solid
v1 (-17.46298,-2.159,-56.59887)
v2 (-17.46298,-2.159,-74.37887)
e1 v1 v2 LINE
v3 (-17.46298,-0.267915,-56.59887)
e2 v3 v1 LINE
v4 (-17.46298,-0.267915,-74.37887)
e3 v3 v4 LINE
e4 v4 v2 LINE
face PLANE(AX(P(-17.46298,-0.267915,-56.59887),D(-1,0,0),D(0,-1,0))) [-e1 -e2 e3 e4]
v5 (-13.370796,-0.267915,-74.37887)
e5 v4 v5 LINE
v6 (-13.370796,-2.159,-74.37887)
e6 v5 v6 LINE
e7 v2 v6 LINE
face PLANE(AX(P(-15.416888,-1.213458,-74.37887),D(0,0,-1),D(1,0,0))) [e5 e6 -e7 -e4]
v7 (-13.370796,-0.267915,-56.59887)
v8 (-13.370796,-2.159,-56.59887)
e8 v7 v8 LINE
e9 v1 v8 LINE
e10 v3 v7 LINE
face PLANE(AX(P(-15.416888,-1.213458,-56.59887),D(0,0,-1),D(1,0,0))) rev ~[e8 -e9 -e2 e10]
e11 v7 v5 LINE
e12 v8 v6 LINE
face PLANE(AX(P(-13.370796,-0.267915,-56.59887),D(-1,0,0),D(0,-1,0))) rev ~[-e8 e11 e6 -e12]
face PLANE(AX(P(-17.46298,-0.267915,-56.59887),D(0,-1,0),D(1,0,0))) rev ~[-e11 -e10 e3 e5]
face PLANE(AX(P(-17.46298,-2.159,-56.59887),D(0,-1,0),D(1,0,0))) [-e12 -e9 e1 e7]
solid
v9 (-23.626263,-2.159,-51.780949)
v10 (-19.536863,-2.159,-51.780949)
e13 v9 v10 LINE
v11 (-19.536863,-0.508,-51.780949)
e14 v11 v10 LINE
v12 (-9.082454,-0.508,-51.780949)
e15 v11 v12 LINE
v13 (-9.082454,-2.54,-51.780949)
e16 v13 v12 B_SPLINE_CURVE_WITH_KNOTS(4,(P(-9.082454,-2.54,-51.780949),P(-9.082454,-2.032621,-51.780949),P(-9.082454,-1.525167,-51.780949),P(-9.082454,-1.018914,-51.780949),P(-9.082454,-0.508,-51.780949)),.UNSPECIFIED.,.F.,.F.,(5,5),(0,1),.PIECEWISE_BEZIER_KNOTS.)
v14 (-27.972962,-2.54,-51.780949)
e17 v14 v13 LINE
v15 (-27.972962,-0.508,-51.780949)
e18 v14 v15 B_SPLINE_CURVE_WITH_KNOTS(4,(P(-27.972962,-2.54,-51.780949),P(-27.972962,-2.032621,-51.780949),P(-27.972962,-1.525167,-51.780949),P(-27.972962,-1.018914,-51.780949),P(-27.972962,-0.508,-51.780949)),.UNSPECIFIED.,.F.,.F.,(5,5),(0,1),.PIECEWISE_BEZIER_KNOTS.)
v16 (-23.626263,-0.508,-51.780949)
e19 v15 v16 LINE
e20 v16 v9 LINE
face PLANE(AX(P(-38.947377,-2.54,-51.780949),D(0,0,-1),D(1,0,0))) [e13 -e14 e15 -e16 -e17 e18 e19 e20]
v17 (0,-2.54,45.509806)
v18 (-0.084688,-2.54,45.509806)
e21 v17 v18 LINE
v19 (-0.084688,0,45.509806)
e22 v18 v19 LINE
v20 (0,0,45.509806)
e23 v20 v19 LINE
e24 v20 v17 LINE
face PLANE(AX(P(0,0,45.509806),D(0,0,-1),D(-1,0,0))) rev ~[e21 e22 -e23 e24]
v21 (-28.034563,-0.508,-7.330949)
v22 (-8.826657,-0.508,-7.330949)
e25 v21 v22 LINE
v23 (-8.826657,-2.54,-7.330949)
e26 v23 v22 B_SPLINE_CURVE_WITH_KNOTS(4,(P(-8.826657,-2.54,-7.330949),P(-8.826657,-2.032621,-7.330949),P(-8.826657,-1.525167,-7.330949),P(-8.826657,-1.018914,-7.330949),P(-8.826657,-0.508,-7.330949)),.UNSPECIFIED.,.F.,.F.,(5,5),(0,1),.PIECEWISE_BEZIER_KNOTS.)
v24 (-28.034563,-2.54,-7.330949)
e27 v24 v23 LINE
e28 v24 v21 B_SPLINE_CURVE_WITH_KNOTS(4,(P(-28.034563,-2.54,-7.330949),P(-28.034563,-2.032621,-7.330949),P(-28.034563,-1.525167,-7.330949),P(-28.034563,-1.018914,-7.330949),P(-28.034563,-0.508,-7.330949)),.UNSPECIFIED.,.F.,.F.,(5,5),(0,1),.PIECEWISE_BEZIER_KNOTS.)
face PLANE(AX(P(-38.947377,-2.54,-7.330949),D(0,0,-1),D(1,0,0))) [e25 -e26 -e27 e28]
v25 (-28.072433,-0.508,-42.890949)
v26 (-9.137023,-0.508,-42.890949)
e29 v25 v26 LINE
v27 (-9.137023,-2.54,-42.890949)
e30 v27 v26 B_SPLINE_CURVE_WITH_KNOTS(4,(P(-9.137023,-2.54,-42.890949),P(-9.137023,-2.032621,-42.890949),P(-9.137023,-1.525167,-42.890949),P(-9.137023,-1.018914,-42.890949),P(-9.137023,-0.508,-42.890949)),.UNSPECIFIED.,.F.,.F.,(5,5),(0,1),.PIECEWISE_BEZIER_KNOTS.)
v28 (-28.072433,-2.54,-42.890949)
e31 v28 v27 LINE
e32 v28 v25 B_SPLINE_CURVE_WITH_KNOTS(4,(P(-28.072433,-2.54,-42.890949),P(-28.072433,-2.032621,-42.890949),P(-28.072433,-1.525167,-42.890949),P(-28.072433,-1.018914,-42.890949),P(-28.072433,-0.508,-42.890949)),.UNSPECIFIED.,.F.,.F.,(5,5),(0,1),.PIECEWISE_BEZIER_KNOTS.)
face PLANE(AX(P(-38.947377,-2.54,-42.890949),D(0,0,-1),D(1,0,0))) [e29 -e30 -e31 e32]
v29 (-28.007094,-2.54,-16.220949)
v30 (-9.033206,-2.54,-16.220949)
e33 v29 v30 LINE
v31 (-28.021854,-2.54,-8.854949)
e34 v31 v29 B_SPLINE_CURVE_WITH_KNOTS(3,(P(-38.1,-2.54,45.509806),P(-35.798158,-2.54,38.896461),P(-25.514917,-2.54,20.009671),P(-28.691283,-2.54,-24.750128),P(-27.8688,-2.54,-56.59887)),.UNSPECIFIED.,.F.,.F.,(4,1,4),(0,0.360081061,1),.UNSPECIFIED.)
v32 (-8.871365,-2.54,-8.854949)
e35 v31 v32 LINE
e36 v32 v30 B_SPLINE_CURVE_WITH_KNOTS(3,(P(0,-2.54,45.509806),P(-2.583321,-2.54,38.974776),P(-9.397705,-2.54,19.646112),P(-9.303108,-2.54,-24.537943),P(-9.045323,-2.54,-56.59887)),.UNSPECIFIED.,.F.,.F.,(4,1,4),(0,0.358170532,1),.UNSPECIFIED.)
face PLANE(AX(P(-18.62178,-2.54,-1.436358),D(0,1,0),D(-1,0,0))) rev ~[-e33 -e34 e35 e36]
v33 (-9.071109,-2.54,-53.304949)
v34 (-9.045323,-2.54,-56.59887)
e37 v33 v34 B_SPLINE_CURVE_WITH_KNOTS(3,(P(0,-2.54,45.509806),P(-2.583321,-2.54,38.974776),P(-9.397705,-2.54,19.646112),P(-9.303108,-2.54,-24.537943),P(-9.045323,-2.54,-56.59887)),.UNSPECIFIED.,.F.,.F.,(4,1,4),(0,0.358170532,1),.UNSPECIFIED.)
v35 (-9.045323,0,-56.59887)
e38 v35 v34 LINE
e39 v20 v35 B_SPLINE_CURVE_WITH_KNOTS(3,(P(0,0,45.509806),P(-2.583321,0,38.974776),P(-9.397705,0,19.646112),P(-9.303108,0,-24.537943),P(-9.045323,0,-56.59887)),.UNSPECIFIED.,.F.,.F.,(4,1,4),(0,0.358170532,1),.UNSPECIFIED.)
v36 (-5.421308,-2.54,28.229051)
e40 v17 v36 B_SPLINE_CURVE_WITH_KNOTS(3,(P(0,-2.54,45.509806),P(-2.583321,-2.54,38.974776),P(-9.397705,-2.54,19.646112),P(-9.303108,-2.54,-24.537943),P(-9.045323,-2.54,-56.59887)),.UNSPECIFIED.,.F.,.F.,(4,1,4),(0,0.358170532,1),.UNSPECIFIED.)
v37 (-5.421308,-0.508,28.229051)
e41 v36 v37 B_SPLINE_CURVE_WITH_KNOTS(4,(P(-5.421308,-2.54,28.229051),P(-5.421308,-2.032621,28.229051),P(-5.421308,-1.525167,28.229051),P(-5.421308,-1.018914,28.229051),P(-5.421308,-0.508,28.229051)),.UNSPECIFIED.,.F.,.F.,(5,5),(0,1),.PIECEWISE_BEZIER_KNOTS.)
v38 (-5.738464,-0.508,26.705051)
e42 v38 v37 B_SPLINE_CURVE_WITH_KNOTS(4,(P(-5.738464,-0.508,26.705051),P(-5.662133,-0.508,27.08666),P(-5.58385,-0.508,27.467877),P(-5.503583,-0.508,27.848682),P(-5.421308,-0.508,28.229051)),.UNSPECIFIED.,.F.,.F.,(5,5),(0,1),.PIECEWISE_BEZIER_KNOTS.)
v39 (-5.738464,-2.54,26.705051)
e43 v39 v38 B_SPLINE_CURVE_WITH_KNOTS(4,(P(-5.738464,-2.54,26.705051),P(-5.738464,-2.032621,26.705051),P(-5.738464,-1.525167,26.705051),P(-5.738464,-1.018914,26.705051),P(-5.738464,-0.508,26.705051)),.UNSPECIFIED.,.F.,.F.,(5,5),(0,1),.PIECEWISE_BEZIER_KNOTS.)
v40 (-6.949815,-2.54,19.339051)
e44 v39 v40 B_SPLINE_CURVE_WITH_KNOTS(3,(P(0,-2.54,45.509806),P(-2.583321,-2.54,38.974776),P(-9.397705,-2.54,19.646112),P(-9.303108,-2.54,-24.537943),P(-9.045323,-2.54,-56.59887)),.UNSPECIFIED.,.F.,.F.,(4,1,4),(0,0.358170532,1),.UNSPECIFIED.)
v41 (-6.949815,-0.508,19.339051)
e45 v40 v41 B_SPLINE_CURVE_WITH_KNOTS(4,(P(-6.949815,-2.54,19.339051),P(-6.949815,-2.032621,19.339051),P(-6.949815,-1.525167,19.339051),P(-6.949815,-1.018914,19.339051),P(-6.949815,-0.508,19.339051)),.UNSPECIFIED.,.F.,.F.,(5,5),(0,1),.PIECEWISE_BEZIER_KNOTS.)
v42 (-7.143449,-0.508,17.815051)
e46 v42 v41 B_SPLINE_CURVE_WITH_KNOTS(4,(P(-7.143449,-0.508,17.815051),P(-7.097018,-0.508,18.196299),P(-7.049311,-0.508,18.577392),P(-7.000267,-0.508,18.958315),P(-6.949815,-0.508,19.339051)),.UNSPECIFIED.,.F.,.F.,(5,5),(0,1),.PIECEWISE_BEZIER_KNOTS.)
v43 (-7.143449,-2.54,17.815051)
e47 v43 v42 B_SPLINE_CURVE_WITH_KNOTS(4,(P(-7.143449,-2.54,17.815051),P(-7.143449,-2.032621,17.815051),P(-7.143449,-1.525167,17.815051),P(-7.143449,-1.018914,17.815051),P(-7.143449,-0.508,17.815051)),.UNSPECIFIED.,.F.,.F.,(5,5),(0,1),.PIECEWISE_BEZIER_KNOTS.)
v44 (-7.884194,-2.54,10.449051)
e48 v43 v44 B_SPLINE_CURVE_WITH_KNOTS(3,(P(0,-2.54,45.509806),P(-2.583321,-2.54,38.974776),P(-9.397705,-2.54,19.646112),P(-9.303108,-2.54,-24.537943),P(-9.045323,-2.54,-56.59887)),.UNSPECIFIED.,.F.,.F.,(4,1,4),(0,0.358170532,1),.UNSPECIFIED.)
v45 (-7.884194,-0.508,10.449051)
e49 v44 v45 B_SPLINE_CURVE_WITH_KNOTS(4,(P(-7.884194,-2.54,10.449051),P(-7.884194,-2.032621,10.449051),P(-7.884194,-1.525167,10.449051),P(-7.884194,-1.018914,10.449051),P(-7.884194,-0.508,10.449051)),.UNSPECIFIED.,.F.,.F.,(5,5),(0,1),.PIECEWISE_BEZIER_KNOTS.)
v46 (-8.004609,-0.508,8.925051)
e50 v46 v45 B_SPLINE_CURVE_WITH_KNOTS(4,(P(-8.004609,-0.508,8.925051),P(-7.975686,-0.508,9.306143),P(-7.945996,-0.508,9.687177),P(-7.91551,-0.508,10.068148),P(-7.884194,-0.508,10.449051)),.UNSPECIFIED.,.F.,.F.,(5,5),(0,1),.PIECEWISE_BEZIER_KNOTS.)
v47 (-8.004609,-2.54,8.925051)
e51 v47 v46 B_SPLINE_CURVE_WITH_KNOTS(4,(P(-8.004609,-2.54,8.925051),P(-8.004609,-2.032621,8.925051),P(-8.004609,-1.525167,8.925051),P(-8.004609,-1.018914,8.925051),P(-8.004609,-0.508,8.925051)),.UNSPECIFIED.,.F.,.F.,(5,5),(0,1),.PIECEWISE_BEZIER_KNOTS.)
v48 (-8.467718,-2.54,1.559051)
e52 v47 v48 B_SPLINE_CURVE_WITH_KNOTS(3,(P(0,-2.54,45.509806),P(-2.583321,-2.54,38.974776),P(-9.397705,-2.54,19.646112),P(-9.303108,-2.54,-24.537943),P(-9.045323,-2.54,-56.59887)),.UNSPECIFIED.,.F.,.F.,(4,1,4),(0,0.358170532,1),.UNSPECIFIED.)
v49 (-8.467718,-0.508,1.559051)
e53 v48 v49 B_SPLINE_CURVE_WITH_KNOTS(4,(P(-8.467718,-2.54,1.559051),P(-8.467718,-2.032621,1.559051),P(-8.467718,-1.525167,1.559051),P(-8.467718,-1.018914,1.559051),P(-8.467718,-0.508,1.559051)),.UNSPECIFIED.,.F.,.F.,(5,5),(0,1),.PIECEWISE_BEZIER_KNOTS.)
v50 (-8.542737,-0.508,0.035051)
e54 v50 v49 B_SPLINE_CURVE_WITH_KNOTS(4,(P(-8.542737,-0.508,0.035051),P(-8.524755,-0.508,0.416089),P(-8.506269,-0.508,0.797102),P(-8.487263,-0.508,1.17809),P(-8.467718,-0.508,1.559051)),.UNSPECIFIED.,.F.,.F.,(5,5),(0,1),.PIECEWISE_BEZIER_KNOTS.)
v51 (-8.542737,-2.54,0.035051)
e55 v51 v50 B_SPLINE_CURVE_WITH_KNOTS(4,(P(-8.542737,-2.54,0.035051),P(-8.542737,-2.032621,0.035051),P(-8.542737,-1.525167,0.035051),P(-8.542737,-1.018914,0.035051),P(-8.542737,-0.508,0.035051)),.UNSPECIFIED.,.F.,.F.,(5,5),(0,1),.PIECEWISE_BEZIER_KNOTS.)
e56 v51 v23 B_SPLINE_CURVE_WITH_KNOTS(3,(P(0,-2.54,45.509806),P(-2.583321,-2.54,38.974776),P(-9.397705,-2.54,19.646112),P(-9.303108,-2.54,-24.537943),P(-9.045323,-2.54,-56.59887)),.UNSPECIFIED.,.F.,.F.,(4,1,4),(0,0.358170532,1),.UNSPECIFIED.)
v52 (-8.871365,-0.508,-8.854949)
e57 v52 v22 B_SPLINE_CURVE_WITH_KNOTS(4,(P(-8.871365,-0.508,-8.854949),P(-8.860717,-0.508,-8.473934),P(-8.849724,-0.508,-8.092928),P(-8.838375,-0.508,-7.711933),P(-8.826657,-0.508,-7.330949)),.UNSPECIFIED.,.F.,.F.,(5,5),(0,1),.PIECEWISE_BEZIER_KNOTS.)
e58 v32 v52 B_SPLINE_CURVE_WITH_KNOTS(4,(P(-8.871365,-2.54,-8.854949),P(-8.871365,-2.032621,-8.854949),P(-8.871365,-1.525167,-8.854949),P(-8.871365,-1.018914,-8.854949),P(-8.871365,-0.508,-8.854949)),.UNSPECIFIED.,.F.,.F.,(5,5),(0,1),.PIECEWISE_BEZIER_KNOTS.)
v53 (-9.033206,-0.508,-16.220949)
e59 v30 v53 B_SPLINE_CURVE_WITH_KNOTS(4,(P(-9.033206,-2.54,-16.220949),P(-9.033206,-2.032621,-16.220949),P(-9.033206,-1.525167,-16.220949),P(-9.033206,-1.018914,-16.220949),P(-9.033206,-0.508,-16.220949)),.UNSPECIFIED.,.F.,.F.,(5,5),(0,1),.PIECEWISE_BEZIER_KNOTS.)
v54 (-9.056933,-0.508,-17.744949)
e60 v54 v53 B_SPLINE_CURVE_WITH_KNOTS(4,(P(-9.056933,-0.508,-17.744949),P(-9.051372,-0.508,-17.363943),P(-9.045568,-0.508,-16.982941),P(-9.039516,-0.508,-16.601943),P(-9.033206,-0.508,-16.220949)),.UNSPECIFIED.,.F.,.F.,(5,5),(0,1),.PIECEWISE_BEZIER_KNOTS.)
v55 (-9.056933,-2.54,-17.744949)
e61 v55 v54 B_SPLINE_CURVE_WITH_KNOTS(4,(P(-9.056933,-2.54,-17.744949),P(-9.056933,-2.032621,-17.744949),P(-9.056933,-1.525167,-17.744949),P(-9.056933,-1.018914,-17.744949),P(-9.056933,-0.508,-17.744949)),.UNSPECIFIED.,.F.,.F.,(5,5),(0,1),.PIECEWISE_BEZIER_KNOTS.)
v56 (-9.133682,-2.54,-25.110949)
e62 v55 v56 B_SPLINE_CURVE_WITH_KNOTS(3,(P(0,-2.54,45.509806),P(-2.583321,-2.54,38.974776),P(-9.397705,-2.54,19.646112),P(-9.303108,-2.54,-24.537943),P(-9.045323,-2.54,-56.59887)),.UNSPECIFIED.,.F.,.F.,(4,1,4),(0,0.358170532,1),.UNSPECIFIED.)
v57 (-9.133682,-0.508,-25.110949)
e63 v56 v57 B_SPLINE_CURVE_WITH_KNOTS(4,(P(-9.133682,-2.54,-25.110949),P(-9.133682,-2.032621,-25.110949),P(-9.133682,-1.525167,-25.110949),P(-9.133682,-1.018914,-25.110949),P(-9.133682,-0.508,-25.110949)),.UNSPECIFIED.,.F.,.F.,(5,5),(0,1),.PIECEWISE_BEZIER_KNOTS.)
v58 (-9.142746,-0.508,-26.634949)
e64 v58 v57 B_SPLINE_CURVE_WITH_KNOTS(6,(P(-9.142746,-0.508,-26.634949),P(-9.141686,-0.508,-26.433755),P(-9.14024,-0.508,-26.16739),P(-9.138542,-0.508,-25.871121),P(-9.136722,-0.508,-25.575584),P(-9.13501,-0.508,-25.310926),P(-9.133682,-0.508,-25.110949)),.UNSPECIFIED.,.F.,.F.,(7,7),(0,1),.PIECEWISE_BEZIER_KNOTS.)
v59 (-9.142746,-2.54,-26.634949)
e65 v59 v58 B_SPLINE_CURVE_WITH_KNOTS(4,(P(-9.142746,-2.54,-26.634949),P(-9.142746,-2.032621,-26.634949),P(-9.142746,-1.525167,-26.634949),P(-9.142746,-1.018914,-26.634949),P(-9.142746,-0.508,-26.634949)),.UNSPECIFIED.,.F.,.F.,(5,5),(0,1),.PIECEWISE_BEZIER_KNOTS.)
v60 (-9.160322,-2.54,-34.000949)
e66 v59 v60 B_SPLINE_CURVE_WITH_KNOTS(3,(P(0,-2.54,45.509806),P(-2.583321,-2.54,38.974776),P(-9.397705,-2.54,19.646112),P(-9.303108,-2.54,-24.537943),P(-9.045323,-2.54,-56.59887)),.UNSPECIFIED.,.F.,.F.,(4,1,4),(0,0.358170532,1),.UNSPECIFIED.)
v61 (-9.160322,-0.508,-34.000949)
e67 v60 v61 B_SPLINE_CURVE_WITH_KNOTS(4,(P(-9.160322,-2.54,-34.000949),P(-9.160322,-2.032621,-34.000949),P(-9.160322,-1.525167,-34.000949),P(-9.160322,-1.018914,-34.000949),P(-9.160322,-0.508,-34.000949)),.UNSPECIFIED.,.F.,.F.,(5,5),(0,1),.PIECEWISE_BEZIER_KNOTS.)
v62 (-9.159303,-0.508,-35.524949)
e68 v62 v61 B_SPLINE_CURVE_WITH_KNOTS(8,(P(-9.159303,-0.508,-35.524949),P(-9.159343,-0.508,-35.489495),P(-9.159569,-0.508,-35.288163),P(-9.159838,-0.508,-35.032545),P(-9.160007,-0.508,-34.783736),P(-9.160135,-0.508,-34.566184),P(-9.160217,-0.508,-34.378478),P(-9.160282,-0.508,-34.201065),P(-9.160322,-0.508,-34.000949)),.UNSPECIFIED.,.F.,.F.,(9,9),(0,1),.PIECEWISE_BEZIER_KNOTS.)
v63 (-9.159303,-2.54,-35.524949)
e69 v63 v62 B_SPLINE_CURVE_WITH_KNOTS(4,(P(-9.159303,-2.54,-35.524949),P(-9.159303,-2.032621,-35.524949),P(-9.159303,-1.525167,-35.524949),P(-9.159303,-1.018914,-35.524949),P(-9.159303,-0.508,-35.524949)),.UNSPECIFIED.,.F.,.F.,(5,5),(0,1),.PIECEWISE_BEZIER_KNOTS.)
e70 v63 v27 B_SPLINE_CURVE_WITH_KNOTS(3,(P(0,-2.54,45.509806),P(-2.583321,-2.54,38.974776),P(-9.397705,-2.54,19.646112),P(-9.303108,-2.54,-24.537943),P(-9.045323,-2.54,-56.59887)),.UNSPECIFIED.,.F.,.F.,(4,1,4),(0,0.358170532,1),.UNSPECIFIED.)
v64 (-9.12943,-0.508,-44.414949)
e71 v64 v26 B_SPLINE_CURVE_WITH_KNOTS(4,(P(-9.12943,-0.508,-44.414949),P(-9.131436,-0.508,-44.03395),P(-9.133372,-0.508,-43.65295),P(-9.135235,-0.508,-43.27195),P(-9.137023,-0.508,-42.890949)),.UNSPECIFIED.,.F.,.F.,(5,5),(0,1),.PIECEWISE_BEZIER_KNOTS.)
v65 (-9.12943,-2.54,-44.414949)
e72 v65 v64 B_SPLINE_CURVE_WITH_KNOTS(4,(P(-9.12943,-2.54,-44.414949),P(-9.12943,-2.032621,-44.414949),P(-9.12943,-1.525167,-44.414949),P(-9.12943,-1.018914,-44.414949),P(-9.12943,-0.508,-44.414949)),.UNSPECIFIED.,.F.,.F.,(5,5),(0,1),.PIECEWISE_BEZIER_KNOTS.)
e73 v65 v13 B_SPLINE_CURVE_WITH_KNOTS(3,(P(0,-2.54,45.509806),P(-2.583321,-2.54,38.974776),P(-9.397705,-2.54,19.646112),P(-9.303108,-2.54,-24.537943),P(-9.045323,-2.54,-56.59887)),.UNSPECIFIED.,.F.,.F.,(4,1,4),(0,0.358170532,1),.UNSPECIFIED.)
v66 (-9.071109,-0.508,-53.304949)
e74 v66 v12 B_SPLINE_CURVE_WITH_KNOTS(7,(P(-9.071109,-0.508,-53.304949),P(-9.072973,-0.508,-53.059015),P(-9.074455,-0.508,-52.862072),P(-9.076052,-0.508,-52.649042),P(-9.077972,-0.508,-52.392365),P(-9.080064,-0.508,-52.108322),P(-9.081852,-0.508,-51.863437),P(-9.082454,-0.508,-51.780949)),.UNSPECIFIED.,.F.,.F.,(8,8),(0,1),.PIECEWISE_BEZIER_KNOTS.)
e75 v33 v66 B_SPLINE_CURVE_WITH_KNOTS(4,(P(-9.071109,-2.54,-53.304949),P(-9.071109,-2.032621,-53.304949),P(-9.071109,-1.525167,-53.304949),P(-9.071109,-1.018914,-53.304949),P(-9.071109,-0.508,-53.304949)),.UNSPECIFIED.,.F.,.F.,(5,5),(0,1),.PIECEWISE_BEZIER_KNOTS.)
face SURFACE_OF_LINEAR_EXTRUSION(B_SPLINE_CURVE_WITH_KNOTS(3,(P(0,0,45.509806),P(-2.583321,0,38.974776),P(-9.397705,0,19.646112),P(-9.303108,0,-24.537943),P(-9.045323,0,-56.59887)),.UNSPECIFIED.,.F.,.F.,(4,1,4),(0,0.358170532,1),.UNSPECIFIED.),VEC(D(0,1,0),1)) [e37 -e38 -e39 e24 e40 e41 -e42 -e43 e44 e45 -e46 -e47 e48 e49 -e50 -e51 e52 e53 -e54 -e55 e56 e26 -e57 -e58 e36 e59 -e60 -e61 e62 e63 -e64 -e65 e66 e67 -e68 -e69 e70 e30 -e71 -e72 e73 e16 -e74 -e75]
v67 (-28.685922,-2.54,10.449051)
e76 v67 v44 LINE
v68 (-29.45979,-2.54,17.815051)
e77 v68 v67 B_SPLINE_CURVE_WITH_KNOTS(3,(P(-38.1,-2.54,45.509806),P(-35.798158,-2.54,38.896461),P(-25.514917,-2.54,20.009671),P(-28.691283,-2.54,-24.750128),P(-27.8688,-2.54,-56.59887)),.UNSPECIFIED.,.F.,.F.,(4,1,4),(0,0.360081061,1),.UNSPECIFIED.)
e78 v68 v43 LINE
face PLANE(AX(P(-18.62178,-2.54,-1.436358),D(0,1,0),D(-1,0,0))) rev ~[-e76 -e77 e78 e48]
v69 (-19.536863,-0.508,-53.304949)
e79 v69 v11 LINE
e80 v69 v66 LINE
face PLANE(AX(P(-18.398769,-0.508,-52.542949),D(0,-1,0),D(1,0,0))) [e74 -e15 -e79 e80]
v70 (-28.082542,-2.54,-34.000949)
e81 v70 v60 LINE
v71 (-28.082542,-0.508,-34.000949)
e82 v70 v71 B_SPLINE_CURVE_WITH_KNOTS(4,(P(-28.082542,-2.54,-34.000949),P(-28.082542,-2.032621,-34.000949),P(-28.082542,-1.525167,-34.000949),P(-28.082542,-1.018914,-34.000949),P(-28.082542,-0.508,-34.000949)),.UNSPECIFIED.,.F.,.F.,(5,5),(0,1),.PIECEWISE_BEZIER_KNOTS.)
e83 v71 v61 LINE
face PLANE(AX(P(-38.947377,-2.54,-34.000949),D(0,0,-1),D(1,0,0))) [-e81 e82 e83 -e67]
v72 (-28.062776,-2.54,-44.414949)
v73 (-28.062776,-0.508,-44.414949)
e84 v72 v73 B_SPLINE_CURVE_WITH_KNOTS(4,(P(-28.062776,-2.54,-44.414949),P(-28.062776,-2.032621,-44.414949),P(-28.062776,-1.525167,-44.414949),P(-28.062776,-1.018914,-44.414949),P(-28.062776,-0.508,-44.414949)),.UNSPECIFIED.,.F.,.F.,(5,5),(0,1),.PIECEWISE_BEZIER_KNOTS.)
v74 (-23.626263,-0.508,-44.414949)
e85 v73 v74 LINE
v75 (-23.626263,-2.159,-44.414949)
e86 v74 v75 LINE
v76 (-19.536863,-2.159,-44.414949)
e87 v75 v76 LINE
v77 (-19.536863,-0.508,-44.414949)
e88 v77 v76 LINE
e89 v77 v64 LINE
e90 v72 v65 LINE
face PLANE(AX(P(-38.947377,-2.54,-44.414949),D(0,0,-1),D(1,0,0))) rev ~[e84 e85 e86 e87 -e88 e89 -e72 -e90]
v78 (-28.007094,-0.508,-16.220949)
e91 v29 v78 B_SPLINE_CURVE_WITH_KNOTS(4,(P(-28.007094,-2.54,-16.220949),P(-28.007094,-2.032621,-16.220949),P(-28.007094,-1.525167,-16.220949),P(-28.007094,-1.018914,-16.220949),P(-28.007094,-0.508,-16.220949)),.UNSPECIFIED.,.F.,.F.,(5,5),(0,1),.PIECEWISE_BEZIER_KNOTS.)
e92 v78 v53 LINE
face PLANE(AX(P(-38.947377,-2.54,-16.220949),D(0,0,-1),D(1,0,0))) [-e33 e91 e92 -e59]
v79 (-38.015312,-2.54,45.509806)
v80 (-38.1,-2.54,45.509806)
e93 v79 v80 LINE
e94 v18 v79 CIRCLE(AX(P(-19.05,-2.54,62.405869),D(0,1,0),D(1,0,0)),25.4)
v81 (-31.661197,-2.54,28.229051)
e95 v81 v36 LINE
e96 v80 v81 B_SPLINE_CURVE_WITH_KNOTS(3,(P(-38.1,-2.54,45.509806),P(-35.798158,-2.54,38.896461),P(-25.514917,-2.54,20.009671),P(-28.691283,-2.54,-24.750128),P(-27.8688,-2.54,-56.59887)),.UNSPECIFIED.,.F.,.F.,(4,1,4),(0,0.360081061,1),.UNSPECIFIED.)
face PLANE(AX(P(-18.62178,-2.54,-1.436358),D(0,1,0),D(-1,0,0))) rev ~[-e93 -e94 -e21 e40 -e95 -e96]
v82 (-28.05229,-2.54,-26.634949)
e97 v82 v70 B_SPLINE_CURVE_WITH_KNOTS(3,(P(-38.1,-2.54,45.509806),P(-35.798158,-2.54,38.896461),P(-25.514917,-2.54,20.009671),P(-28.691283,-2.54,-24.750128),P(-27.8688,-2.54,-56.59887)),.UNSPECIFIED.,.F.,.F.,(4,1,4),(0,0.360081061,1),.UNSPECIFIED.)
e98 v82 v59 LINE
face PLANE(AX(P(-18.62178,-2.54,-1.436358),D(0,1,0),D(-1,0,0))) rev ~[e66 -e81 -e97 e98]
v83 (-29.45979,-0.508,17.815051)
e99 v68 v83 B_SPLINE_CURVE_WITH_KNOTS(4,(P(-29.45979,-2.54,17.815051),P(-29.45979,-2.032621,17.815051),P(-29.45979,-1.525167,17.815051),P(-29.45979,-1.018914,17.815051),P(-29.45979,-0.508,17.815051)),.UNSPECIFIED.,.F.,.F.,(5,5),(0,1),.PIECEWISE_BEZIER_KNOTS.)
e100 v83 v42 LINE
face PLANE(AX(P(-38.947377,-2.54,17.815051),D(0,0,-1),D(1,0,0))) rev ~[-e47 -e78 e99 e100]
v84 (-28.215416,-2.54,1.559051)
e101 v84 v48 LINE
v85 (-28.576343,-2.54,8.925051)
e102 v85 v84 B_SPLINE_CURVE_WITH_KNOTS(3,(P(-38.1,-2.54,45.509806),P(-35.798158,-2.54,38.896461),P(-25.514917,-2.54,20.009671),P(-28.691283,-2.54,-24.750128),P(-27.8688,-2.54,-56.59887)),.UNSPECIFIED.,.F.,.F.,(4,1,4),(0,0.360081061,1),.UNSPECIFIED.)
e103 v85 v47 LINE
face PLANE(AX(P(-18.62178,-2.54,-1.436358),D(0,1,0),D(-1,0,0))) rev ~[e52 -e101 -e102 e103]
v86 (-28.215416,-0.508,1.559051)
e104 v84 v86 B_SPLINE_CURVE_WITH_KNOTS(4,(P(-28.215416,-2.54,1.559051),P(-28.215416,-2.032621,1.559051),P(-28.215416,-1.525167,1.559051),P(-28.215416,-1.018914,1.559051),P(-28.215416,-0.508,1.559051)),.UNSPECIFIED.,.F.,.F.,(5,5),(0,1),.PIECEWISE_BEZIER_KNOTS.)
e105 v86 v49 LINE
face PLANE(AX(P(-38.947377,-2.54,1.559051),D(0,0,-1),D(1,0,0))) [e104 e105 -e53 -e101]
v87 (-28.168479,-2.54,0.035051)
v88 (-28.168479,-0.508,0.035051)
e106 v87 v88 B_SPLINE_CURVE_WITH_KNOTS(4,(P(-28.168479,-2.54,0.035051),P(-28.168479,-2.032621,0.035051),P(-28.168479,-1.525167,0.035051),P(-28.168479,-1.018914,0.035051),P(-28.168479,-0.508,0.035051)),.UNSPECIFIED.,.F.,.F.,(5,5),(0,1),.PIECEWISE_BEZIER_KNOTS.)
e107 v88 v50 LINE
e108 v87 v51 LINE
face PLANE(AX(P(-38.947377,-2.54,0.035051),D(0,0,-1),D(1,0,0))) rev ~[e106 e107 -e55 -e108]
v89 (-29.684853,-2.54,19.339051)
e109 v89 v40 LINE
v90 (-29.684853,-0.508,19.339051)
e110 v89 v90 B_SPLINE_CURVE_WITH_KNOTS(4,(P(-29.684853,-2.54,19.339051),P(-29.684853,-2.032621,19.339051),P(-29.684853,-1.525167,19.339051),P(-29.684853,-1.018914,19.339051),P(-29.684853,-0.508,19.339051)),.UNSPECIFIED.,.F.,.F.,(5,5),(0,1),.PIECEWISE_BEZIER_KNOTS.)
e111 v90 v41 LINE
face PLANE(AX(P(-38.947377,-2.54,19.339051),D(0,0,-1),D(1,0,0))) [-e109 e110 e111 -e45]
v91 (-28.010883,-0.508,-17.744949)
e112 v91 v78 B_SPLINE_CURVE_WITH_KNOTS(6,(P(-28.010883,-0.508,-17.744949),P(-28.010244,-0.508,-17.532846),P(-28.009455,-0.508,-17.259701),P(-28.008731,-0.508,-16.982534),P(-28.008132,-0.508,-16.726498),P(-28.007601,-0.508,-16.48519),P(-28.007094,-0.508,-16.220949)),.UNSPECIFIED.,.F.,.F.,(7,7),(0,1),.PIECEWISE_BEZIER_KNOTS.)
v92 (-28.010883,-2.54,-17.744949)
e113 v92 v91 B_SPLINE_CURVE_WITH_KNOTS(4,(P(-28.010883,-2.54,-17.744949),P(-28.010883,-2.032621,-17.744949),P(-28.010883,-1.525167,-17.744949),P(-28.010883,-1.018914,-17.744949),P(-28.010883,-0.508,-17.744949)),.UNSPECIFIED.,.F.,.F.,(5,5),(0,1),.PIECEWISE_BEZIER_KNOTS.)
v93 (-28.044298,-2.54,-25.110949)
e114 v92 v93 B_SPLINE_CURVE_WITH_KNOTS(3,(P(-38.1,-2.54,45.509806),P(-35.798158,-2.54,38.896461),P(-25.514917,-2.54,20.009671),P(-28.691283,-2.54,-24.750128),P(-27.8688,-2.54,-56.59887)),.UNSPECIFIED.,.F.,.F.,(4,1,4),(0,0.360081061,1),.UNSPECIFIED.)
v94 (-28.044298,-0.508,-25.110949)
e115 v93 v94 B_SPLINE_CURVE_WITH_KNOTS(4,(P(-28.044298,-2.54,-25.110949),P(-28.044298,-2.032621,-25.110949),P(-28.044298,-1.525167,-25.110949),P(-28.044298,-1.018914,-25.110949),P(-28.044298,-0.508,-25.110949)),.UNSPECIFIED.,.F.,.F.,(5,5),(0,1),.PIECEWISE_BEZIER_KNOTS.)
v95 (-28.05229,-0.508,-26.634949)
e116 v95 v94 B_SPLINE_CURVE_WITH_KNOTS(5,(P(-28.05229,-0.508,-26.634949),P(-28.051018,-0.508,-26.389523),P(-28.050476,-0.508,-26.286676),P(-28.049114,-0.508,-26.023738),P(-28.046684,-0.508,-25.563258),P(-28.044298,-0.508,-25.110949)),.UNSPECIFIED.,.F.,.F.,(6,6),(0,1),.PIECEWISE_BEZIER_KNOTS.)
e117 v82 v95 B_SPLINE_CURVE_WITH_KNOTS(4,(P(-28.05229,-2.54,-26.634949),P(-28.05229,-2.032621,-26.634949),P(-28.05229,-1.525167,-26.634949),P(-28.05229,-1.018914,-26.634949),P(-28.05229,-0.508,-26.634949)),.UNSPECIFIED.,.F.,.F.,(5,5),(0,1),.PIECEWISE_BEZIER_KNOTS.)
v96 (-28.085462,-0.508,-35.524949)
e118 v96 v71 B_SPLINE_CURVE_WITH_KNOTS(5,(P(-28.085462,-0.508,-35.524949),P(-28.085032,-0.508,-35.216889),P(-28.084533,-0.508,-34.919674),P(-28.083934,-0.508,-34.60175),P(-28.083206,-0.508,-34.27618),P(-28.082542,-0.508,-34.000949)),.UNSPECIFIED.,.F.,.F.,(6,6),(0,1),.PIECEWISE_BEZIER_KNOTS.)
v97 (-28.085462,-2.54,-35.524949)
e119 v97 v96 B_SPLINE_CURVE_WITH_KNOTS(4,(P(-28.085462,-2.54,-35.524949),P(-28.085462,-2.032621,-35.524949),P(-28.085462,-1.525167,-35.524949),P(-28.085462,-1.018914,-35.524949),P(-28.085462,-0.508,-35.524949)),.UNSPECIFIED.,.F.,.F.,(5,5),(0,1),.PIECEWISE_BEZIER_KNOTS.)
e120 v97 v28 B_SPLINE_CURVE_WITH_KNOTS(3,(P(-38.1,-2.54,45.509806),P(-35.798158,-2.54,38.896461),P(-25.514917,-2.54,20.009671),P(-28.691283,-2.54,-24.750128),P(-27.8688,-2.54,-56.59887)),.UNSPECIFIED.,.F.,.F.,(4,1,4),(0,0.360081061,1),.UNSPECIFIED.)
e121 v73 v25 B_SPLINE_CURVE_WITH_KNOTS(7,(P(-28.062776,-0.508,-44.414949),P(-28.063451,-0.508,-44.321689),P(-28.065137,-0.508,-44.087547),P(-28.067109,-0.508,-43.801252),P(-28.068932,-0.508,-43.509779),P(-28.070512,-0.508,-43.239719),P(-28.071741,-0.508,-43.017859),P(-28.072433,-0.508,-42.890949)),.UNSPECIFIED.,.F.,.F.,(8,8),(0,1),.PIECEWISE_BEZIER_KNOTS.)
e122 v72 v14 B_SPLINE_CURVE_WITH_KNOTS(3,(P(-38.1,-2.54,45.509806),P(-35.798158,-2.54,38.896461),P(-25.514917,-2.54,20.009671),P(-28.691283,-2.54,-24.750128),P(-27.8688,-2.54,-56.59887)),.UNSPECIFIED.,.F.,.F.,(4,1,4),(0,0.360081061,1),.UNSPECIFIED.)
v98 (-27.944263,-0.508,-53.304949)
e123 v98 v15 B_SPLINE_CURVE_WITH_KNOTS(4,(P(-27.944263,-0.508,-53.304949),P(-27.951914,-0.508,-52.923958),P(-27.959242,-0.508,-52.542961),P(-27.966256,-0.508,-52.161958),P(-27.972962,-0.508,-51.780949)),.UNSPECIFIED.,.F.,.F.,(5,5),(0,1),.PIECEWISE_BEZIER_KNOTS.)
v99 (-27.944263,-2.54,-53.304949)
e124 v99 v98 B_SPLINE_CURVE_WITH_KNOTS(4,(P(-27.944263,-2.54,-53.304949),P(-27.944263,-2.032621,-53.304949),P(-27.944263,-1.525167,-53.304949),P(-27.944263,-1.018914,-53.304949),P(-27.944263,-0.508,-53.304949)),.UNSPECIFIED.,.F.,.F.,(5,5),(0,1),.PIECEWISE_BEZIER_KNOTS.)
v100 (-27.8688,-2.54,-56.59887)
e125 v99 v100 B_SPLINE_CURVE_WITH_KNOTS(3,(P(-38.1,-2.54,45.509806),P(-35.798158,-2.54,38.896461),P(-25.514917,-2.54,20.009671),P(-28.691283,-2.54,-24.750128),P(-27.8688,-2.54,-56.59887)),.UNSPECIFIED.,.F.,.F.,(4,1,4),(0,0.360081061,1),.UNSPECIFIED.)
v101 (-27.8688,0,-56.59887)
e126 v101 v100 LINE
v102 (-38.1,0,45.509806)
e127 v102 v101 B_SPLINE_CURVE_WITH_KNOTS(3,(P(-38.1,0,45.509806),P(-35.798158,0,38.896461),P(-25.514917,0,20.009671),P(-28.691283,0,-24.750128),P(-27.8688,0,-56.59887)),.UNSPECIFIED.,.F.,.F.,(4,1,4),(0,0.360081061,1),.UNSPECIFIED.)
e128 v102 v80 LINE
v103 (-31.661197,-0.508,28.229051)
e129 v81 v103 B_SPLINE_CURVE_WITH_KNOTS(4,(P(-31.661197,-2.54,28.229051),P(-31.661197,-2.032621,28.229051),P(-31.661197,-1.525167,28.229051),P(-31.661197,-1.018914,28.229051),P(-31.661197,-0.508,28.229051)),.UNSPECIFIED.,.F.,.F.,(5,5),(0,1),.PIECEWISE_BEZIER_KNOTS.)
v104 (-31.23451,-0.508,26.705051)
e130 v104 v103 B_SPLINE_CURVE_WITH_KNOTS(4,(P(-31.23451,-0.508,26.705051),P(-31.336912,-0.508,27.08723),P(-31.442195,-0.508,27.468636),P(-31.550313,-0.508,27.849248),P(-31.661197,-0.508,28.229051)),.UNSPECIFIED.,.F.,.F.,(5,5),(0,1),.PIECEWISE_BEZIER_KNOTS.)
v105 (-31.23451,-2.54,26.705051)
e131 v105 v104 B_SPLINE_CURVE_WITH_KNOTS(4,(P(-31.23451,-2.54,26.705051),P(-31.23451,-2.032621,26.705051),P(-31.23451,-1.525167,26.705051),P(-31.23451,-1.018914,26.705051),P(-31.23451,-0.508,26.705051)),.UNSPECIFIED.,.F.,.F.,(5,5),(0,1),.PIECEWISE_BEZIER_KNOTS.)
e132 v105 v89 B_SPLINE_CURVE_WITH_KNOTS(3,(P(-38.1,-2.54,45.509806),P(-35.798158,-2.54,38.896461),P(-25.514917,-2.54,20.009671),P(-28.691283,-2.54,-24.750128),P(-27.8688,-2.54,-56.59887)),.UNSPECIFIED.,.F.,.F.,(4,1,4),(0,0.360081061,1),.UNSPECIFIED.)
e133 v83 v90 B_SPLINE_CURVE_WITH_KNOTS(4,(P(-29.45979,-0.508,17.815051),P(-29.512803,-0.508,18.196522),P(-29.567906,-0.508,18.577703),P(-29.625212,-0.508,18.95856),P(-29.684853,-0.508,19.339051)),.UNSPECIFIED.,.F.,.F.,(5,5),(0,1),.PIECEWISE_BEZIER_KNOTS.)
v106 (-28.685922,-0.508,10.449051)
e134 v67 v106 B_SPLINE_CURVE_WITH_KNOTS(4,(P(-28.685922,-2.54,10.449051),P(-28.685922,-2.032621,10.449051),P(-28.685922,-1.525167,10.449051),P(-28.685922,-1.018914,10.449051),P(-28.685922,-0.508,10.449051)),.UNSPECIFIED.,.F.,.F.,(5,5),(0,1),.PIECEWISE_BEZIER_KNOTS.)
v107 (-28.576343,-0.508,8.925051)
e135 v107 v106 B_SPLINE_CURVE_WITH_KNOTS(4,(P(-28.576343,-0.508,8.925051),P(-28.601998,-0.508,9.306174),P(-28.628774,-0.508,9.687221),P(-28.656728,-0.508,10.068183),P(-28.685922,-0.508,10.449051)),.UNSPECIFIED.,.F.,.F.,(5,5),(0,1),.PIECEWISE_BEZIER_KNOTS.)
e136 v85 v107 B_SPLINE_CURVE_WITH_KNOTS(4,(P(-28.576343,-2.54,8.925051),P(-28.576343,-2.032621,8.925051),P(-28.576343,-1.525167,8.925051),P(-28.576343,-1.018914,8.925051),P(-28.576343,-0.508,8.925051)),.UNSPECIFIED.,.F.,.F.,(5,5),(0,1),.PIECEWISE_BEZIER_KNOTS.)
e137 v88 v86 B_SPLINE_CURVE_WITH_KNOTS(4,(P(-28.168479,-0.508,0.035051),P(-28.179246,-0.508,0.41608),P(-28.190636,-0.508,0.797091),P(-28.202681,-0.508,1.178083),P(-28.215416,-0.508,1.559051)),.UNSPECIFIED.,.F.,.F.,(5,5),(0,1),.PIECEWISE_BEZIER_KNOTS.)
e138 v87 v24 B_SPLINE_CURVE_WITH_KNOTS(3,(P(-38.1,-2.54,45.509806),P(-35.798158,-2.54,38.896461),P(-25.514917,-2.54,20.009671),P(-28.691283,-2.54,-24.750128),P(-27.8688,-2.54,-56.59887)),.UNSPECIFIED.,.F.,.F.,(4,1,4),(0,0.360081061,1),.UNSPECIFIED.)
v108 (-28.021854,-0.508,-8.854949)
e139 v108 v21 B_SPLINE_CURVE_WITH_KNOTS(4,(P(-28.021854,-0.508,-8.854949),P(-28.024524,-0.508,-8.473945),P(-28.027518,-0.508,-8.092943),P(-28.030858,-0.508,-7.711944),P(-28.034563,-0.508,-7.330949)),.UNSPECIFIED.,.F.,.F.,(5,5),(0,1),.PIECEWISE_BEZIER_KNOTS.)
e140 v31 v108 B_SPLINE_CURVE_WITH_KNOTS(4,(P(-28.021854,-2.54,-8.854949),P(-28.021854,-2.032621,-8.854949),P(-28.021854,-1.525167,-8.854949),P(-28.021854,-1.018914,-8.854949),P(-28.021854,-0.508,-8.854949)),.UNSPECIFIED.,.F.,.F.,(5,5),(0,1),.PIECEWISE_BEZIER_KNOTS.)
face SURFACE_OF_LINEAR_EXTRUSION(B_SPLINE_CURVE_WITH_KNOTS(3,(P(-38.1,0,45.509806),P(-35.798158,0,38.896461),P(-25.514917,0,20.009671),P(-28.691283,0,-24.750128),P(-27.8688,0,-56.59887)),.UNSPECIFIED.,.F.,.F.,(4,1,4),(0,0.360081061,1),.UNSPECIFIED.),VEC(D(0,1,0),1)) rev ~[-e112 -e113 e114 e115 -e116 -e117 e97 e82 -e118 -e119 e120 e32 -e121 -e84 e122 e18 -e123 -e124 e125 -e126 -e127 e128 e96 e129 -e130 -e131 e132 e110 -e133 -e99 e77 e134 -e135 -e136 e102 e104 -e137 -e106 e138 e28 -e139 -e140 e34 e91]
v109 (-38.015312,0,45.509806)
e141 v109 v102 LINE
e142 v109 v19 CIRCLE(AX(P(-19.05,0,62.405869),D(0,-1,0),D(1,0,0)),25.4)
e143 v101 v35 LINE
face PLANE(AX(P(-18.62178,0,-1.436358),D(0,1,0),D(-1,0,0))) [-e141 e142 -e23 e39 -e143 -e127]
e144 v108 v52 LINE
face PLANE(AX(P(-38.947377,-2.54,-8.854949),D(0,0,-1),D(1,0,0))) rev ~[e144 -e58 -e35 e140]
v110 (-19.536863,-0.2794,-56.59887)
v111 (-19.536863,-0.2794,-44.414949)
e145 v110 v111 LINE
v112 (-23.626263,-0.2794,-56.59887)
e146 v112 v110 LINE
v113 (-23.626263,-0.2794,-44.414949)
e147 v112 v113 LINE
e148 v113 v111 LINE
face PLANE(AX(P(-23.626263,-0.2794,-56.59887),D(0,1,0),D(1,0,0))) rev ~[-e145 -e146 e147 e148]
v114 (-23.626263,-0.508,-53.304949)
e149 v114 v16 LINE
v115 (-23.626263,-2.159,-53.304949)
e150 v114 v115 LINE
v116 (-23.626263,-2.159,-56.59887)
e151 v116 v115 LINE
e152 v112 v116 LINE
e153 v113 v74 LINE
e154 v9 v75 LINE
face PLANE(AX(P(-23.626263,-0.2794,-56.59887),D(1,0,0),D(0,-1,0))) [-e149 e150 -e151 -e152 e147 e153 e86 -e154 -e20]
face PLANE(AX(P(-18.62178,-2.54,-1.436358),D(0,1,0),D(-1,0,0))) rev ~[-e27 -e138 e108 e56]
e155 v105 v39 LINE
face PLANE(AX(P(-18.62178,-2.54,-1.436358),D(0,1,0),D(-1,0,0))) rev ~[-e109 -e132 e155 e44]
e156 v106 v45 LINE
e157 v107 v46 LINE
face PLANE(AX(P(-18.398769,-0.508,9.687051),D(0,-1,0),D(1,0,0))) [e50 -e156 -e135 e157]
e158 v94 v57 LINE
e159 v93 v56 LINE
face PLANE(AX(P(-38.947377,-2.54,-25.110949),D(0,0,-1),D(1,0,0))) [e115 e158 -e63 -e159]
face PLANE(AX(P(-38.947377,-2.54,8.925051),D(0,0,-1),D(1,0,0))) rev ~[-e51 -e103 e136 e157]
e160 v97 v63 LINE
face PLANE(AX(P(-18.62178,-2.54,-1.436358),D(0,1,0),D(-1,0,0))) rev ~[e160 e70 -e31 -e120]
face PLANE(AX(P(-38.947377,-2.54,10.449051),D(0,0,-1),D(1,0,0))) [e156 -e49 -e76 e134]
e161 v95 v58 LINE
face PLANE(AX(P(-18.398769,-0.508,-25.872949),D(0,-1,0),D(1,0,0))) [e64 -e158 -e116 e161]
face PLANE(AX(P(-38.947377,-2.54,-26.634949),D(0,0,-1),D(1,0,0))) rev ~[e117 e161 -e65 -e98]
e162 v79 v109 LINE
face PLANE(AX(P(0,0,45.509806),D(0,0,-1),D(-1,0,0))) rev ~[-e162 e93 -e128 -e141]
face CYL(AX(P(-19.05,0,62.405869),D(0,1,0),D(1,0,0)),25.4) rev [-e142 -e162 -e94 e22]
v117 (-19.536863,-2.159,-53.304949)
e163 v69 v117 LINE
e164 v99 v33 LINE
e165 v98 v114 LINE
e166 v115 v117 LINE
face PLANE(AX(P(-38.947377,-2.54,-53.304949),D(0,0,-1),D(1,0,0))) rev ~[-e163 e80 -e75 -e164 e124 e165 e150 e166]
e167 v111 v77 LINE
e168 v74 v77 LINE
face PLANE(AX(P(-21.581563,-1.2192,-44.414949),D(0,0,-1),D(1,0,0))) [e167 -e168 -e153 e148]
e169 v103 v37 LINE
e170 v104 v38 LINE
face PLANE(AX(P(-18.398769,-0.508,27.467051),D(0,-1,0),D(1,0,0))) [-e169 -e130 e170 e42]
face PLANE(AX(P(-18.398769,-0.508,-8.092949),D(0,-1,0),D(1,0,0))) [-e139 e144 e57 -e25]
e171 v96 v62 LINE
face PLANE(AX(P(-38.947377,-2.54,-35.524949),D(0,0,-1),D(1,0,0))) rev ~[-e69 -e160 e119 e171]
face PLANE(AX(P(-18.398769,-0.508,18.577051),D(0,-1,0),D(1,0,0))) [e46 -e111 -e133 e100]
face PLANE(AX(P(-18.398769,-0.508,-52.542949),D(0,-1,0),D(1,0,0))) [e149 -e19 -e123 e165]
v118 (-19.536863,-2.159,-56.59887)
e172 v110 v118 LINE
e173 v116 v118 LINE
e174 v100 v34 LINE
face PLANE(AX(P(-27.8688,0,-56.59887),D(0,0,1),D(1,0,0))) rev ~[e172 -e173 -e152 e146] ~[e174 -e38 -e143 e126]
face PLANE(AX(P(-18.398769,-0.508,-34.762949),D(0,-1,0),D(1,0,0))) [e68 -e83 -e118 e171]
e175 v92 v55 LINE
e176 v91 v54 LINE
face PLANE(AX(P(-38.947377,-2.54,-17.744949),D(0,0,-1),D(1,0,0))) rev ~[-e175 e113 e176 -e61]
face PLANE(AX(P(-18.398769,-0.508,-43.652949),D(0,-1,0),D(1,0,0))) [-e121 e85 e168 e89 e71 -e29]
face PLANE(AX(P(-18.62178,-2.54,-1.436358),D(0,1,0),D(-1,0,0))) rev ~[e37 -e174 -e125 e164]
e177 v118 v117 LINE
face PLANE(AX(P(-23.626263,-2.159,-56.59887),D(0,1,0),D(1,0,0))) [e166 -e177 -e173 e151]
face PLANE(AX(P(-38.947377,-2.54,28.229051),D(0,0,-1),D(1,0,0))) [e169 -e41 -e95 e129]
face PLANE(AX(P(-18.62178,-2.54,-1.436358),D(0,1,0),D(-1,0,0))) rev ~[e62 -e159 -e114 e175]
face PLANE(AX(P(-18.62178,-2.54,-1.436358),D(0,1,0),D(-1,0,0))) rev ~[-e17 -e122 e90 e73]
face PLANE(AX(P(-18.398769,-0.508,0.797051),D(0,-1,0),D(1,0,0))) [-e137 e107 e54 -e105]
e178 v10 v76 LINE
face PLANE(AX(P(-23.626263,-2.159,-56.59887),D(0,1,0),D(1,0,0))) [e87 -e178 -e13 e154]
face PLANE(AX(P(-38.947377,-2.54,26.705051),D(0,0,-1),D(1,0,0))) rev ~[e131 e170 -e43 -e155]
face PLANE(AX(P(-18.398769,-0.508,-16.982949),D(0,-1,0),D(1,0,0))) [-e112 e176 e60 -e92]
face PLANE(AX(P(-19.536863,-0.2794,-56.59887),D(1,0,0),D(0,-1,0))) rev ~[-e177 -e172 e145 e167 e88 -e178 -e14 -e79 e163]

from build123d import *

# Parameters (mm, degrees)
F1_DEPTH = 2.54
F2_R     = 25.4
F3_DEPTH = 25.4
F4_W     = 41.0972163081
F4_H     = 1.524
F5_DEPTH = 2.032
F6_W     = 4.0921838954
F6_H     = 1.8910848594
F7_DEPTH = 17.78
F8_W     = 4.0894
F8_H     = 1.8796
F9_DEPTH = 12.183920388


with BuildPart() as f1:
    # F0 (on Front) → F1 (new body)
    with BuildSketch(Plane.XZ):
        with BuildLine():
            add(Edge.make_bspline(
                [(-38.1, 45.5098064329), (-31.48906723, 40.6018618943), (-18.4296945804, 30.9066072453), (-6.0920606717, 40.6826197932), (0, 45.5098064329)],
                knots=[0, 0, 0, 0, 0.506221313, 1, 1, 1, 1], degree=3))
            add(Edge.make_bspline(
                [(-38.1, 45.5098064329), (-35.7981584888, 38.8964609268), (-25.5149174178, 20.0096712829), (-28.6912827149, -24.7501280377), (-27.8687996008, -56.598869547)],
                knots=[0, 0, 0, 0, 0.3600810606, 1, 1, 1, 1], degree=3))
            Line((-27.8687996008, -56.598869547), (-9.0453229023, -56.598869547))
            add(Edge.make_bspline(
                [(0, 45.5098064329), (-2.5833212801, 38.9747758696), (-9.3977049962, 19.6461118957), (-9.3031082968, -24.5379434481), (-9.0453229023, -56.598869547)],
                knots=[0, 0, 0, 0, 0.3581705323, 1, 1, 1, 1], degree=3))
        make_face()
        with BuildLine():
            Line((0, 45.5098064329), (-38.1, 45.5098064329))
            add(Edge.make_bspline(
                [(-38.1, 45.5098064329), (-31.48906723, 40.6018618943), (-18.4296945804, 30.9066072453), (-6.0920606717, 40.6826197932), (0, 45.5098064329)],
                knots=[0, 0, 0, 0, 0.506221313, 1, 1, 1, 1], degree=3))
        make_face()
    extrude(amount=F1_DEPTH)

    # F2 (on Front) → F3 (cut)
    with BuildSketch(Plane.XZ):
        with Locations((-19.05, 62.4058693647)):
            Circle(F2_R)
    extrude(amount=F3_DEPTH, mode=Mode.SUBTRACT)

    # F4 (on face) → F5 (cut)
    with BuildSketch(Plane.XZ.offset(2.54)):
        with Locations((-18.3987691998, 27.467050841)):
            Rectangle(F4_W, F4_H)
        with Locations((-18.3987691998, 18.577050841)):
            Rectangle(F4_W, F4_H)
        with Locations((-18.3987691998, 9.687050841)):
            Rectangle(F4_W, F4_H)
        with Locations((-18.3987691998, 0.797050841)):
            Rectangle(F4_W, F4_H)
        with Locations((-18.3987691998, -8.092949159)):
            Rectangle(F4_W, F4_H)
        with Locations((-18.3987691998, -16.982949159)):
            Rectangle(F4_W, F4_H)
        with Locations((-18.3987691998, -25.872949159)):
            Rectangle(F4_W, F4_H)
        with Locations((-18.3987691998, -34.762949159)):
            Rectangle(F4_W, F4_H)
        with Locations((-18.3987691998, -43.652949159)):
            Rectangle(F4_W, F4_H)
        with Locations((-18.3987691998, -52.542949159)):
            Rectangle(F4_W, F4_H)
    extrude(amount=-F5_DEPTH, mode=Mode.SUBTRACT)

    # F8 (on face) → F9 (cut, through all)
    with BuildSketch(Plane(origin=(0, 0, -56.598869547), x_dir=(1, 0, 0), z_dir=(0, 0, -1))):
        with Locations((-21.5815627026, 1.2192)):
            Rectangle(F8_W, F8_H)
    extrude(amount=-F9_DEPTH, mode=Mode.SUBTRACT)


with BuildPart() as f7:
    # F6 (on face) → F7 (new body)
    with BuildSketch(Plane(origin=(0, 0, -56.598869547), x_dir=(1, 0, 0), z_dir=(0, 0, -1))):
        with Locations((-15.4168880545, 1.2134575703)):
            Rectangle(F6_W, F6_H)
    extrude(amount=F7_DEPTH)


solid = Compound([f1.part, f7.part])
